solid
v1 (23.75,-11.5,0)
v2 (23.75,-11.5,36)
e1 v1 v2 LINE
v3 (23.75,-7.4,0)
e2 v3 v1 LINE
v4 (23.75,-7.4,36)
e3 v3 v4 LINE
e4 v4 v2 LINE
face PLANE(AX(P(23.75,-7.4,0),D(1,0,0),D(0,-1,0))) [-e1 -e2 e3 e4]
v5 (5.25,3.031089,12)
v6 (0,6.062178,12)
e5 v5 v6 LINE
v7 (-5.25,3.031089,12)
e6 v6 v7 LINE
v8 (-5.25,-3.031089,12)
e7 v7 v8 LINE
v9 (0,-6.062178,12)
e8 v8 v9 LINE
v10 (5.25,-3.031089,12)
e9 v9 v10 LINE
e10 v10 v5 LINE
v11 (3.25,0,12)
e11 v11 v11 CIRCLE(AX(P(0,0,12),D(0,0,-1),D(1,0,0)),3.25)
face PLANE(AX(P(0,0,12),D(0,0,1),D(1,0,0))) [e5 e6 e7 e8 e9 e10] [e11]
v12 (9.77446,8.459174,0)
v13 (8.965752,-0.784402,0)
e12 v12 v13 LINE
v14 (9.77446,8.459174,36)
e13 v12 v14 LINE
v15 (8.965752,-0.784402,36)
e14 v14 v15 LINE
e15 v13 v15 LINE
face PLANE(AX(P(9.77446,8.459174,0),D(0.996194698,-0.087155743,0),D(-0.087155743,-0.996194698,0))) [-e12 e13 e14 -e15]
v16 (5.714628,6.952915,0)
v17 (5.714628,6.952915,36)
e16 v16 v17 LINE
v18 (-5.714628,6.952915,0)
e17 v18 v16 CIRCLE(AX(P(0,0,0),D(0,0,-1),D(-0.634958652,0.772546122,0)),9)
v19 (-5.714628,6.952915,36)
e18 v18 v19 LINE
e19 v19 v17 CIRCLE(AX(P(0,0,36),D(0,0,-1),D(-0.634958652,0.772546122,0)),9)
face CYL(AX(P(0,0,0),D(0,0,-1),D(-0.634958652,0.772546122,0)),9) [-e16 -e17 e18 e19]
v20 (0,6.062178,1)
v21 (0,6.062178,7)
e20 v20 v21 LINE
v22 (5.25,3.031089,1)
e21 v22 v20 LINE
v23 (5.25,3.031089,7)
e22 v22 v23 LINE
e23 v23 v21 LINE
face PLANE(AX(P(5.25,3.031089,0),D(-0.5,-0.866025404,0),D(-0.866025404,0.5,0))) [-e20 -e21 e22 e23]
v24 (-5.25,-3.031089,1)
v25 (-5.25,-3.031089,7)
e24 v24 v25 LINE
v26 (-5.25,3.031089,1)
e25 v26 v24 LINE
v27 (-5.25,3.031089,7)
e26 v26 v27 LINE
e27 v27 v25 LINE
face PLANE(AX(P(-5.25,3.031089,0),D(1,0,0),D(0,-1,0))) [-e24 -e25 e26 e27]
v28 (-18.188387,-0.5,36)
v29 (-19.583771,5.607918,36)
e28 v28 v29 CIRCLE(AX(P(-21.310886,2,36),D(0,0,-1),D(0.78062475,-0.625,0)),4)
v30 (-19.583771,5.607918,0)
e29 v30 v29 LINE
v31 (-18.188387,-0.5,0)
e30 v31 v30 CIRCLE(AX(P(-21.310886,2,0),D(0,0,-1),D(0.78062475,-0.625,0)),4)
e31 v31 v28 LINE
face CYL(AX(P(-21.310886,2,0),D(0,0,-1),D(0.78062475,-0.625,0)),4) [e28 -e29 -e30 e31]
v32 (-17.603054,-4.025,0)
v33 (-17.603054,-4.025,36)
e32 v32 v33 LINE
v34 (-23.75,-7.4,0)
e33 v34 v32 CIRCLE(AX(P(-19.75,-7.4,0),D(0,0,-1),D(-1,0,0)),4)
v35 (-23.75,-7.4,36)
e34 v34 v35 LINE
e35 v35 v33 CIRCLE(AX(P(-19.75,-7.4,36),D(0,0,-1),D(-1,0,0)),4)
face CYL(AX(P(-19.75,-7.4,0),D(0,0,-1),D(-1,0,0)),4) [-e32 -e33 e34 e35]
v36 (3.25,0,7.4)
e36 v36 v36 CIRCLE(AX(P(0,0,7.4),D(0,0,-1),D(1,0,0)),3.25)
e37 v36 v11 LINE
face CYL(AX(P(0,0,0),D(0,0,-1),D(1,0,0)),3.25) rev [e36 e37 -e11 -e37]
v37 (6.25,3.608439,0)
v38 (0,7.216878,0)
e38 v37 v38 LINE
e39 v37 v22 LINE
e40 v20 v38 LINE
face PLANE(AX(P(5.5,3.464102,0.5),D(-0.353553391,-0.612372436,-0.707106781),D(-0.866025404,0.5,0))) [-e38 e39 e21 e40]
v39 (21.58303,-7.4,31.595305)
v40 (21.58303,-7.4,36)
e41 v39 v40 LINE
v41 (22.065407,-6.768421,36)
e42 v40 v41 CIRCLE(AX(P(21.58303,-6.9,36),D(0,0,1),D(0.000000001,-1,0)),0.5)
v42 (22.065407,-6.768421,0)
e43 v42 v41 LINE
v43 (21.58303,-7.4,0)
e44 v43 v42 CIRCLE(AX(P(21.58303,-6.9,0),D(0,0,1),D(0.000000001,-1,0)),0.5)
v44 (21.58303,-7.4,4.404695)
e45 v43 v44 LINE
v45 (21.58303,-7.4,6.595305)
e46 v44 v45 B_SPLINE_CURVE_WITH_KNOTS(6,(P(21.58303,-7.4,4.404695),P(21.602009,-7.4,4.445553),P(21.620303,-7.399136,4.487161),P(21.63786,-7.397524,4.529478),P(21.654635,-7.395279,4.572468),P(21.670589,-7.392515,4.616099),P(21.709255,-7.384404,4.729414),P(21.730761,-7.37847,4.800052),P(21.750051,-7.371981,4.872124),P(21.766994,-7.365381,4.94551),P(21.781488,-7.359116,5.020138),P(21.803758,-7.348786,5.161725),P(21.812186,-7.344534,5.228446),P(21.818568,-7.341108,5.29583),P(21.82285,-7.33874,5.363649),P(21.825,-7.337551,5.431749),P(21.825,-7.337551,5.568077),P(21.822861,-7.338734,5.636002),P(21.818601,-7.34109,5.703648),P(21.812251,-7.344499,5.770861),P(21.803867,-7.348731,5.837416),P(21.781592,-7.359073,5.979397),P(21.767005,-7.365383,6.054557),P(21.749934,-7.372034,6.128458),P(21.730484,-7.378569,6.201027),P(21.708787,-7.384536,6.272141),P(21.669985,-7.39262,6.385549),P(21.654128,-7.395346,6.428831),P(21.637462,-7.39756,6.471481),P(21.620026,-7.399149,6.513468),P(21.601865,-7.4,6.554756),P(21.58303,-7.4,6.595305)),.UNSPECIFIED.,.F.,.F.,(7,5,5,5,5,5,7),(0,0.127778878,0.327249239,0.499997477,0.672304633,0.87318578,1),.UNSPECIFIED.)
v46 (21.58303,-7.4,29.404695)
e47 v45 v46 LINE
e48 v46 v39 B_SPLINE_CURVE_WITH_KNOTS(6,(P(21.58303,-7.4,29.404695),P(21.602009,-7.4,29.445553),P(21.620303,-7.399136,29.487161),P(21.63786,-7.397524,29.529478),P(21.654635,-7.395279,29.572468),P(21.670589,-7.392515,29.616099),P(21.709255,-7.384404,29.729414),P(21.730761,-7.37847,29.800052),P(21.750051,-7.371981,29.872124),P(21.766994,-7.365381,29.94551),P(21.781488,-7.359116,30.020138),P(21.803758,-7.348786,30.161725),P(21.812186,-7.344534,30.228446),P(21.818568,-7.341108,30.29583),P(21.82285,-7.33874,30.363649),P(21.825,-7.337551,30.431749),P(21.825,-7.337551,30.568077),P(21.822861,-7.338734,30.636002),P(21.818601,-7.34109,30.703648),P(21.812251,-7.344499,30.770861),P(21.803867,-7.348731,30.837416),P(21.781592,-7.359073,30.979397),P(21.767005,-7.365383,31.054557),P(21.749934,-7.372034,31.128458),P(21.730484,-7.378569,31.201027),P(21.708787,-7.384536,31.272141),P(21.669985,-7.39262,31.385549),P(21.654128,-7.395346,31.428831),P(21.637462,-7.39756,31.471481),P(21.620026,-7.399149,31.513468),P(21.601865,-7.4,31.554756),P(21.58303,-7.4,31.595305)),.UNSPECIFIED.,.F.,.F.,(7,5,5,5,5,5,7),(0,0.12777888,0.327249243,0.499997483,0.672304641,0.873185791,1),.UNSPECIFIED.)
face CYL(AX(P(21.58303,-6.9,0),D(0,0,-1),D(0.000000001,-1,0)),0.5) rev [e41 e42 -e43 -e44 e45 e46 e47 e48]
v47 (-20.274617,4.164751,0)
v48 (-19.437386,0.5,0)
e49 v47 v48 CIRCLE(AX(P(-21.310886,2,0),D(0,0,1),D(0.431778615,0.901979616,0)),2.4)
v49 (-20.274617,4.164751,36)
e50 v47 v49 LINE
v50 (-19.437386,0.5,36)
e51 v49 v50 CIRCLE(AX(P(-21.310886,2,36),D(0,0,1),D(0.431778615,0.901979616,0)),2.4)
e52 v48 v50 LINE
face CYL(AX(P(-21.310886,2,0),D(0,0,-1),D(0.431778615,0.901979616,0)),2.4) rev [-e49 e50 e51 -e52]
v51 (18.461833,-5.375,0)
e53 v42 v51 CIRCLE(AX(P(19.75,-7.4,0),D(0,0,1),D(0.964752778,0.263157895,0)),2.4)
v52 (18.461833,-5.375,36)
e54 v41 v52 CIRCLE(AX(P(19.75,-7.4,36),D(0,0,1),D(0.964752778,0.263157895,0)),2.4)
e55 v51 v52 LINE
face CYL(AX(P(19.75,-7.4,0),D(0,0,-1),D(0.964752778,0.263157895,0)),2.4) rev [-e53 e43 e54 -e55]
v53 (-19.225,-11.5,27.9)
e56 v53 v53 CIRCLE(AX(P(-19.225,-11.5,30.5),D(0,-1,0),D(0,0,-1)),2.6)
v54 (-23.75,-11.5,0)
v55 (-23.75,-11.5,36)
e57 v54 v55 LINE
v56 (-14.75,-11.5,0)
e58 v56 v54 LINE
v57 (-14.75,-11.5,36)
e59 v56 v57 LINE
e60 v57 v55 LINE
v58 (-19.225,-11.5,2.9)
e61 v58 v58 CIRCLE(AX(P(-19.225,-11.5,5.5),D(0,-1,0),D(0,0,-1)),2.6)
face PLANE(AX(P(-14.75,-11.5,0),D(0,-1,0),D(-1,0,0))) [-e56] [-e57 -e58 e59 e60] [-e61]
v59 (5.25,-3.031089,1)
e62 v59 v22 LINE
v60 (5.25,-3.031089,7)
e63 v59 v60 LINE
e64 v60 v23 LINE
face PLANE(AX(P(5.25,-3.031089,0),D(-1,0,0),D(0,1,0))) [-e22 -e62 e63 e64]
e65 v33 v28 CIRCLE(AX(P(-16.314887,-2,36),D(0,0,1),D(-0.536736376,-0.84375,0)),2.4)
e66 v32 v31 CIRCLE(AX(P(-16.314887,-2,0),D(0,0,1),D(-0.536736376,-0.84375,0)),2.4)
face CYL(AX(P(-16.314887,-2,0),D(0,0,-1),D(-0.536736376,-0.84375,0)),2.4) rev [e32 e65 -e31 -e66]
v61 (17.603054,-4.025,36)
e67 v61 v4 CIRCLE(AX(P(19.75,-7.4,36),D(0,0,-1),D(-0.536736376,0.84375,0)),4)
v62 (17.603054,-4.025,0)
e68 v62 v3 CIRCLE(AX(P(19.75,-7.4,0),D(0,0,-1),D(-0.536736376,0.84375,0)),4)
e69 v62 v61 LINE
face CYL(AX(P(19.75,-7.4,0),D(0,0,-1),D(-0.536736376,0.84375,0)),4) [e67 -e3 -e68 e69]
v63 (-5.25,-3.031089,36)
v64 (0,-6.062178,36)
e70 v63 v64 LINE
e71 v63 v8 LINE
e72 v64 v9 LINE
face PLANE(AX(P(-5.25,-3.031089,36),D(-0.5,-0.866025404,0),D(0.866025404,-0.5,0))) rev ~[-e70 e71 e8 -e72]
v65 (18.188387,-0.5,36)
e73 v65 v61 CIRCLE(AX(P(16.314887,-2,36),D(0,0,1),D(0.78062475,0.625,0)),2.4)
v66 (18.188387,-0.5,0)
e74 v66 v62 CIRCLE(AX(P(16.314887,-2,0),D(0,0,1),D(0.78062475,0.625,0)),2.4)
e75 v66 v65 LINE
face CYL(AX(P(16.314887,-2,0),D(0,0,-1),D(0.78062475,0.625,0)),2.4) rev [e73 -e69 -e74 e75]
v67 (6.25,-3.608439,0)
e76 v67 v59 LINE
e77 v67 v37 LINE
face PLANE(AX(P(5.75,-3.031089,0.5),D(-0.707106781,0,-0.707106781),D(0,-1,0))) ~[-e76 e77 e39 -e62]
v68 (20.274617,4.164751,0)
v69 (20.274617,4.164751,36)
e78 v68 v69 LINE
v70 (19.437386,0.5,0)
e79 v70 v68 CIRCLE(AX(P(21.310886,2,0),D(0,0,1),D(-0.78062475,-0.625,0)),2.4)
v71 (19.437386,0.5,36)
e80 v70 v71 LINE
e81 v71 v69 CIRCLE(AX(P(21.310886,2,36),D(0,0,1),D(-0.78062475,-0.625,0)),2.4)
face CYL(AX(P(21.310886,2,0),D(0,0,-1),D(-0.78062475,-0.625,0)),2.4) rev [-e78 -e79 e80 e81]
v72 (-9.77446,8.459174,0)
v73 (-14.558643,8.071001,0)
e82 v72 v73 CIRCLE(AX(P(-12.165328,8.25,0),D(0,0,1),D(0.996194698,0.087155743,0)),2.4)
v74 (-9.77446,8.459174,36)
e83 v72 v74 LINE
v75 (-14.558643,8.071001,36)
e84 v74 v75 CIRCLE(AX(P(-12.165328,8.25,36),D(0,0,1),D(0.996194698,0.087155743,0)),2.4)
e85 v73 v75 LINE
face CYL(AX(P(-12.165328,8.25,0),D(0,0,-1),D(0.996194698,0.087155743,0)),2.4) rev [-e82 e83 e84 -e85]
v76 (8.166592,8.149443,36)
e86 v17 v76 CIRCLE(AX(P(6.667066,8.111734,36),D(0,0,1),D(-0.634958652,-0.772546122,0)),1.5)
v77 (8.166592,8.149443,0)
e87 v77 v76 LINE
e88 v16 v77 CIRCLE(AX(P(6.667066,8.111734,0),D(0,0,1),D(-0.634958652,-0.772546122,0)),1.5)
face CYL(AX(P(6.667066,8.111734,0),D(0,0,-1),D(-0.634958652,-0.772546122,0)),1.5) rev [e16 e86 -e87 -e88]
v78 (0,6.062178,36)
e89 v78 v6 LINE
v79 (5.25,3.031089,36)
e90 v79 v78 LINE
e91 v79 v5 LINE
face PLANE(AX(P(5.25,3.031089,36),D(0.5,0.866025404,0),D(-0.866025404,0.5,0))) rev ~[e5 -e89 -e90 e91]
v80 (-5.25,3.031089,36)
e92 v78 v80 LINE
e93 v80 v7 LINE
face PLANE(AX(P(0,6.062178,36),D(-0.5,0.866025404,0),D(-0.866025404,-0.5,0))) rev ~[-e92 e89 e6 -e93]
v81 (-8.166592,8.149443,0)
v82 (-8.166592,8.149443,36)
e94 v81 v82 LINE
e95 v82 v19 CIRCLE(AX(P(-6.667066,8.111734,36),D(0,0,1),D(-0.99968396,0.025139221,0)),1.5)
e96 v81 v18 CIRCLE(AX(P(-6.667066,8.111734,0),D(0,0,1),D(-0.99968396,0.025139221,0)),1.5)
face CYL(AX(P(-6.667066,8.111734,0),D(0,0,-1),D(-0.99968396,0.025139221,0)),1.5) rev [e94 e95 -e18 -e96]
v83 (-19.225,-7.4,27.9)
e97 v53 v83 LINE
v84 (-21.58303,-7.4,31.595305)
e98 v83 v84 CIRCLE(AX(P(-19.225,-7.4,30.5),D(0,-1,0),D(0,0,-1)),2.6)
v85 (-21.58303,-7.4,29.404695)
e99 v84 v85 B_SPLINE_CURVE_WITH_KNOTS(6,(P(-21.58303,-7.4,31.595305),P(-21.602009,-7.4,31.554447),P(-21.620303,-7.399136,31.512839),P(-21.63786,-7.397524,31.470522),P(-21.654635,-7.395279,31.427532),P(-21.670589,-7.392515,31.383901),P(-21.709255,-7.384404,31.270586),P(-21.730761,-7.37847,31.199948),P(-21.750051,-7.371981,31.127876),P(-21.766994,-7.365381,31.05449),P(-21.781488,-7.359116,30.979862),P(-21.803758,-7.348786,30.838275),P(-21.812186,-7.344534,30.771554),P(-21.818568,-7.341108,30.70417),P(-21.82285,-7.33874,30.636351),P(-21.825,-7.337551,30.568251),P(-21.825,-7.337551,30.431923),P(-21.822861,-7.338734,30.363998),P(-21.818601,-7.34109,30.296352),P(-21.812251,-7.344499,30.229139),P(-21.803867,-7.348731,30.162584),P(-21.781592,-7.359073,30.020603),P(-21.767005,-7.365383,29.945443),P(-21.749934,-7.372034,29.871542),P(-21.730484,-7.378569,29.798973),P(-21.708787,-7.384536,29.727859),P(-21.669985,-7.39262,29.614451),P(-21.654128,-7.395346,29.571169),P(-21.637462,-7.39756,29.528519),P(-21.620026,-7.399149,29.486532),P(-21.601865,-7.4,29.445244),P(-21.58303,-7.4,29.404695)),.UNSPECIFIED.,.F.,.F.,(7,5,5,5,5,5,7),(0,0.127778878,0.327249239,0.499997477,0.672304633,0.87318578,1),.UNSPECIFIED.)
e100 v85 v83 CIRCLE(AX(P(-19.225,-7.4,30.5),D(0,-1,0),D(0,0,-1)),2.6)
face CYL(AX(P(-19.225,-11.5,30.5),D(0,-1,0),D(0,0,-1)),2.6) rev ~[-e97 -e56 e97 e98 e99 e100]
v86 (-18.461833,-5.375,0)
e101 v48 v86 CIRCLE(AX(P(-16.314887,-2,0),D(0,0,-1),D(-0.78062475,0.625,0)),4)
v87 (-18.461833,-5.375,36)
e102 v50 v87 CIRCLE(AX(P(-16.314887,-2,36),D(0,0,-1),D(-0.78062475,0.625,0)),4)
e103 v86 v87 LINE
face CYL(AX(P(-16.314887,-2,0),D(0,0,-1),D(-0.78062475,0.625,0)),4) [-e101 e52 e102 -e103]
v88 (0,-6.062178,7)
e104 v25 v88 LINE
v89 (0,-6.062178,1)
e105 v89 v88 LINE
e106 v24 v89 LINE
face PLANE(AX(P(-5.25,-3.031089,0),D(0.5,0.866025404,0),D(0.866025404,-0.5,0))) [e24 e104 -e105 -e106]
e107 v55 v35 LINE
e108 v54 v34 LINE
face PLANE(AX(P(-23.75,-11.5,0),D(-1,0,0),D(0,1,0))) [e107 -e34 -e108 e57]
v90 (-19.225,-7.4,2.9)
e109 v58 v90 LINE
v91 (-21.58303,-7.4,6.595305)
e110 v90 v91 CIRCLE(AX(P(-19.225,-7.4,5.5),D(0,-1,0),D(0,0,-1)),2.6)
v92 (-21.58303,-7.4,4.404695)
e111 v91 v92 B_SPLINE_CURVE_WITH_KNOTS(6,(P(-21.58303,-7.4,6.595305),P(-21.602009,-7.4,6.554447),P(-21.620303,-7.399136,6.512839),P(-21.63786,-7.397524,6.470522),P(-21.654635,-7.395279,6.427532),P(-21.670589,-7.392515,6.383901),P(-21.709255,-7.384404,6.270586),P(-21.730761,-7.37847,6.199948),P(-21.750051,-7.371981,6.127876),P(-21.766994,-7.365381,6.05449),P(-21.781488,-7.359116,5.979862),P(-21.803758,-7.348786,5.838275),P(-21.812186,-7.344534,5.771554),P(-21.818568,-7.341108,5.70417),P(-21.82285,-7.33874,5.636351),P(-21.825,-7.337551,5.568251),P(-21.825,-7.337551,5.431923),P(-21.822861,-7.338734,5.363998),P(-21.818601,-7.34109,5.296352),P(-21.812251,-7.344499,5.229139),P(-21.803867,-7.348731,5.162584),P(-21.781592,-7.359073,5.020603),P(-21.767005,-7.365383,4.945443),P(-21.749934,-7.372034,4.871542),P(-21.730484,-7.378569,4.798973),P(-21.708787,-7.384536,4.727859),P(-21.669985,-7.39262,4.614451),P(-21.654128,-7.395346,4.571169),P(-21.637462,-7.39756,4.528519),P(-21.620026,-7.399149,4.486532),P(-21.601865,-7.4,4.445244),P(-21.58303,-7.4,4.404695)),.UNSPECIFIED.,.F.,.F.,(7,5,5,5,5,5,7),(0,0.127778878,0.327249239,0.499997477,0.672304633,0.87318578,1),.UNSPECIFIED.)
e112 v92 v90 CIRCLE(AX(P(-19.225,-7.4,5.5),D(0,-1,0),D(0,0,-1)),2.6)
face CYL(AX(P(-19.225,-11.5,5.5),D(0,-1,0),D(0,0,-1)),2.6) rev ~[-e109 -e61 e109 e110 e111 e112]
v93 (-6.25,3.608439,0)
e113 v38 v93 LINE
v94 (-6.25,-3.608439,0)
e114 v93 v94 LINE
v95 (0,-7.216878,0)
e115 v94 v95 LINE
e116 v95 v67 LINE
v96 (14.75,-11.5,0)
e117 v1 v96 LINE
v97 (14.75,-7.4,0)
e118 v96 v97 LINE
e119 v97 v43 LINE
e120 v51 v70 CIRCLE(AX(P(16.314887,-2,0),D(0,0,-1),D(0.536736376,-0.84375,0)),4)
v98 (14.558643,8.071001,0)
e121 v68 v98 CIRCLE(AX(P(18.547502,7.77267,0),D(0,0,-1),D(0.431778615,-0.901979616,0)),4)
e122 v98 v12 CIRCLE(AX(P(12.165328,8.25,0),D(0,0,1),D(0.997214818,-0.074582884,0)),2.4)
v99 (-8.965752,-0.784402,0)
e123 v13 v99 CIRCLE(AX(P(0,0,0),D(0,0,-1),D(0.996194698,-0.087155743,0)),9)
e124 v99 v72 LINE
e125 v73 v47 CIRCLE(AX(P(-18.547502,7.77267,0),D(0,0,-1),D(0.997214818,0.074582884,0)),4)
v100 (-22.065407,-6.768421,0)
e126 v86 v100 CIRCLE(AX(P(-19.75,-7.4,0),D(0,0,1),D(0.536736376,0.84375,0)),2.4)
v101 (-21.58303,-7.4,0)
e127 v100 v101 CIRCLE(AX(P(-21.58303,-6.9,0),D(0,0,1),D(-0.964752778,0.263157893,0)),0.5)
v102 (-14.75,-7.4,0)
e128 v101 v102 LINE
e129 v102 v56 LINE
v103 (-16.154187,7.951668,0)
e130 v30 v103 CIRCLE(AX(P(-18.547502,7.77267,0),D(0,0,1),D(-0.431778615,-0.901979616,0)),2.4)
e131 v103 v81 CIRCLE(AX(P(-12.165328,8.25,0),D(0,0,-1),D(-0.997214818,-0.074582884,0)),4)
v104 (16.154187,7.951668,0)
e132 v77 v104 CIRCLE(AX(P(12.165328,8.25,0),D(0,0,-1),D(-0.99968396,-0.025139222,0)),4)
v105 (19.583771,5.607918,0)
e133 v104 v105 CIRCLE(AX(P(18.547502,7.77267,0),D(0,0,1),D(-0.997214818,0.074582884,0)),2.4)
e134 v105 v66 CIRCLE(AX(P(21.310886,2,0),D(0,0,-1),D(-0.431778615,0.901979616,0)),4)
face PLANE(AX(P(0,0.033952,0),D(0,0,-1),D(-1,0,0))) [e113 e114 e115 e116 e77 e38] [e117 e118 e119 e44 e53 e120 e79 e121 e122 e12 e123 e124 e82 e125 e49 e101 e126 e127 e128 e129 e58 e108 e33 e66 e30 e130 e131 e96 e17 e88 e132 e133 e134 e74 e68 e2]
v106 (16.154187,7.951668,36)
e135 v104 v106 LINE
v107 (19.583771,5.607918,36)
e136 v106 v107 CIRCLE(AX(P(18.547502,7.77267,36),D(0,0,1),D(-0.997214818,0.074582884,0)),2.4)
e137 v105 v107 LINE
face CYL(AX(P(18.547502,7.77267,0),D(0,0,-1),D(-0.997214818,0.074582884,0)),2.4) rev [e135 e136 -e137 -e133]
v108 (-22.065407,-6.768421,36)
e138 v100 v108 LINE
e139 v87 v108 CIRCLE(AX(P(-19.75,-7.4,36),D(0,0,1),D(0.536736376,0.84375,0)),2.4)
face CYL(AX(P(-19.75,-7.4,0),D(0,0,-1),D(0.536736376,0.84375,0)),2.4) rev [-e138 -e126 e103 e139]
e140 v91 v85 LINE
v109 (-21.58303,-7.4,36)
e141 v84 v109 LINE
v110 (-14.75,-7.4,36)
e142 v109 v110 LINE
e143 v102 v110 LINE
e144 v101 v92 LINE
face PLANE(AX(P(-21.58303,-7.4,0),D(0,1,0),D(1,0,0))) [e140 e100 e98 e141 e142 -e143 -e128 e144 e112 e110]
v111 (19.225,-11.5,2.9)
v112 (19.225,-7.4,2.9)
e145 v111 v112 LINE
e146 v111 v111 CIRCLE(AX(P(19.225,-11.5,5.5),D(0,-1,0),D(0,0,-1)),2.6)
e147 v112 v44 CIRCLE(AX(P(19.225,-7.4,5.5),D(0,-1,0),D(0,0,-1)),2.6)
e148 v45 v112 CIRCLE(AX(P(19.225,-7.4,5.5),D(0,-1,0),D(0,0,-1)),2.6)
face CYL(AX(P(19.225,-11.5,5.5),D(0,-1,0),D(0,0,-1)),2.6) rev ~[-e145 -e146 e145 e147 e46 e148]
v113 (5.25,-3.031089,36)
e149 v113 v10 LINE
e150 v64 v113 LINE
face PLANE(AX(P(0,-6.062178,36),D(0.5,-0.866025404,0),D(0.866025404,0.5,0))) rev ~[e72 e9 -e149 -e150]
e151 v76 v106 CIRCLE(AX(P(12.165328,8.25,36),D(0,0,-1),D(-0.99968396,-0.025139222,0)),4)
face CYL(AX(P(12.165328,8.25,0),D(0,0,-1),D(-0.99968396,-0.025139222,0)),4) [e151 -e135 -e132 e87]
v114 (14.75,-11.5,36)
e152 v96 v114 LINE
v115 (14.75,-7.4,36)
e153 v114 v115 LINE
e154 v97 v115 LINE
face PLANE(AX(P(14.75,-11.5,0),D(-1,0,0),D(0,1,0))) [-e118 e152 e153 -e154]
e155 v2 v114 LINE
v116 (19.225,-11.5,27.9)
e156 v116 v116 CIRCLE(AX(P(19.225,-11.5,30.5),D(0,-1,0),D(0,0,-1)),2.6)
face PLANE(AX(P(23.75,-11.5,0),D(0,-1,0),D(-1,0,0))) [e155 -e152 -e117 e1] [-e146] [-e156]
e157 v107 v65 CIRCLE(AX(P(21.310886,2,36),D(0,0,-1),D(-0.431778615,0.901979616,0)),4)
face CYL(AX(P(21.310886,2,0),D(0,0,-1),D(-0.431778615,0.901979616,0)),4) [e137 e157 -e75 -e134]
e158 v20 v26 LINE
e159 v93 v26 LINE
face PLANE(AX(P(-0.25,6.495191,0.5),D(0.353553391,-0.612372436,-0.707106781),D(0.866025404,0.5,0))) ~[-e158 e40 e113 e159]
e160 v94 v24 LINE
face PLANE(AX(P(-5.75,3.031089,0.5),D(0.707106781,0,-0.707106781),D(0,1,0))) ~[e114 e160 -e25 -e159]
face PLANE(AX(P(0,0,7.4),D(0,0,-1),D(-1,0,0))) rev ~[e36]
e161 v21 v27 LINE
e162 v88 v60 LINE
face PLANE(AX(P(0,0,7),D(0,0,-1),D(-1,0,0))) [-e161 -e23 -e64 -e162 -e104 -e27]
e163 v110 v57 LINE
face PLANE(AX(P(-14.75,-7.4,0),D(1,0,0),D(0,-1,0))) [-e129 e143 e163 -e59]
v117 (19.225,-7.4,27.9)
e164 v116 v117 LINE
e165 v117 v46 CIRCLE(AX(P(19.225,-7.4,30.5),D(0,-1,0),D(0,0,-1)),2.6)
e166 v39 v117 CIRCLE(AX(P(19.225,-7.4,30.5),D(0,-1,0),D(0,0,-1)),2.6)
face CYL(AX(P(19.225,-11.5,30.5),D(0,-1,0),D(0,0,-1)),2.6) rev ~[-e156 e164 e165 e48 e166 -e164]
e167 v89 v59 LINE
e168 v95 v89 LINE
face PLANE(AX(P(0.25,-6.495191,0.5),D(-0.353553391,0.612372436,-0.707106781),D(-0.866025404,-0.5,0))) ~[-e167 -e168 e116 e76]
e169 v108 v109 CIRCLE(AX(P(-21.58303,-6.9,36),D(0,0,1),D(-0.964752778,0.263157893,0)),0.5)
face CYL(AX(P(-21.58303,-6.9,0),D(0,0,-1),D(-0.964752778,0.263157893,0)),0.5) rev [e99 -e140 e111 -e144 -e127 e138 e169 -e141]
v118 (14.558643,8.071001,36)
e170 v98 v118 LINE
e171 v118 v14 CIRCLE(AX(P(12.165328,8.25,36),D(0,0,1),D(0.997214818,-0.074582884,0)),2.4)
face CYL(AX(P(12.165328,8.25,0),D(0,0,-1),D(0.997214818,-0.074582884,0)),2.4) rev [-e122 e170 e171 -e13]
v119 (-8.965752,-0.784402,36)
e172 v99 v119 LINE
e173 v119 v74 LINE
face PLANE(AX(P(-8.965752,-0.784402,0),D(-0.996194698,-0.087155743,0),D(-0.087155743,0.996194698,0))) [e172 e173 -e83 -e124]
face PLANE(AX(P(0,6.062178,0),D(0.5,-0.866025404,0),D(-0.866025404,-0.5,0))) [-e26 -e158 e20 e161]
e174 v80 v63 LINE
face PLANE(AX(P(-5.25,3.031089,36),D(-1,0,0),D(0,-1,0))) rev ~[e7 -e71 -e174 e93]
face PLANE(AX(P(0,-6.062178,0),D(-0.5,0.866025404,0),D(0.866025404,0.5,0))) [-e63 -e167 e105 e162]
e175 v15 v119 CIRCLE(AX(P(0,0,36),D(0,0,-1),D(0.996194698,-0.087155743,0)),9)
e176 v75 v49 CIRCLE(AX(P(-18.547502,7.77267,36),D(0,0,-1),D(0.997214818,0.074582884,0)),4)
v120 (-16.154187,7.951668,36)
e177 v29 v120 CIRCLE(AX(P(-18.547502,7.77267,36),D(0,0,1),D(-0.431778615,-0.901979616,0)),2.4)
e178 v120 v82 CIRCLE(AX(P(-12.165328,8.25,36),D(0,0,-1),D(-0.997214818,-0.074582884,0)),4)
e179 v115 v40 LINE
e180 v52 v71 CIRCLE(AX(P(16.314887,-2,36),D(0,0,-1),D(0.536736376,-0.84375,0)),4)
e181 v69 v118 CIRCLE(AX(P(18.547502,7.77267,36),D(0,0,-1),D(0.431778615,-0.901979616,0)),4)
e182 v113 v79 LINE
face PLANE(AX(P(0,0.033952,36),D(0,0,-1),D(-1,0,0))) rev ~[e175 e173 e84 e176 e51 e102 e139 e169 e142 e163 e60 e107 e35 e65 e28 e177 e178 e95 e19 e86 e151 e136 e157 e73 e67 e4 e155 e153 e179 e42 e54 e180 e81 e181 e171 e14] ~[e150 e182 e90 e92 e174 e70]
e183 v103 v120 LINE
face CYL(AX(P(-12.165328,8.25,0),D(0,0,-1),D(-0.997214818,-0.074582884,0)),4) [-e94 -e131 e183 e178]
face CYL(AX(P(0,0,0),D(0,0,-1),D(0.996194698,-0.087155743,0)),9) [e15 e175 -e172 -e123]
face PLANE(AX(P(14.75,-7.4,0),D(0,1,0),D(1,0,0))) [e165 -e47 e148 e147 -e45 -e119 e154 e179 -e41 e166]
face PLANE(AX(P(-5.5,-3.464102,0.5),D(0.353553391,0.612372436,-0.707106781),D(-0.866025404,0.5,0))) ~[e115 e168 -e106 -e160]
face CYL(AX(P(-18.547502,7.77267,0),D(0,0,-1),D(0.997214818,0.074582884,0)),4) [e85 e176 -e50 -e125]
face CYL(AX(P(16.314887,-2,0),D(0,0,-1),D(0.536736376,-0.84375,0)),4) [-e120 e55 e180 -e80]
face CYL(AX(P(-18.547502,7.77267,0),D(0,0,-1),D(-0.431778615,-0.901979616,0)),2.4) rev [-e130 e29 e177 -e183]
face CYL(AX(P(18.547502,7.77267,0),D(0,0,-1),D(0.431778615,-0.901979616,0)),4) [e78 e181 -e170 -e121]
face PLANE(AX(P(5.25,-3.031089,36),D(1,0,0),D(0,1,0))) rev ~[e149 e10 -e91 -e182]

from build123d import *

# Parameters (mm, degrees)
SKETCH1_R           = 3.25
BOSS_EXTRUDE1_DEPTH = 36
SKETCH2_R           = 2.6
CUT_EXTRUDE1_DEPTH  = 4.2
CUT_EXTRUDE3_DEPTH  = 7
CUT_EXTRUDE2_DEPTH  = 24
SKETCH6_R           = 3.25
BOSS_EXTRUDE2_DEPTH = 0.4
CHAMFER1_SIZE       = 1


with BuildPart() as part:
    # Sketch1 → Boss-Extrude1 (new body)
    with BuildSketch(Plane.XY):
        with BuildLine():
            Line((-14.75, -7.4), (-14.75, -11.5))
            Line((-14.75, -11.5), (-23.75, -11.5))
            Line((-23.75, -11.5), (-23.75, -7.4))
            ThreePointArc((-23.75, -7.4), (-21.675125708, -3.893735462), (-17.603054495, -4.025))
            ThreePointArc((-17.603054495, -4.025), (-13.947306078, -1.606859229), (-18.188386592, -0.5))
            ThreePointArc((-18.188386592, -0.5), (-25.210418213, 1.109132257), (-19.583771133, 5.607918465))
            ThreePointArc((-19.583771133, 5.607918465), (-17.193366172, 5.79117644), (-16.154186894, 7.951668465))
            ThreePointArc((-16.154186894, 7.951668465), (-12.264338175, 12.248774426), (-8.166591783, 8.149443113))
            ThreePointArc((-8.166591783, 8.149443113), (-7.324900269, 6.763678693), (-5.714627865, 6.952915098))
            ThreePointArc((-5.714627865, 6.952915098), (0, 9), (5.714627865, 6.952915098))
            ThreePointArc((5.714627865, 6.952915098), (7.324900269, 6.763678693), (8.166591783, 8.149443113))
            ThreePointArc((8.166591783, 8.149443113), (12.264338175, 12.248774426), (16.154186894, 7.951668465))
            ThreePointArc((16.154186894, 7.951668465), (17.193366172, 5.79117644), (19.583771133, 5.607918465))
            ThreePointArc((19.583771133, 5.607918465), (25.210418213, 1.109132257), (18.188386592, -0.5))
            ThreePointArc((18.188386592, -0.5), (13.947306078, -1.606859229), (17.603054495, -4.025))
            ThreePointArc((17.603054495, -4.025), (21.675125708, -3.893735462), (23.75, -7.4))
            Line((23.75, -7.4), (23.75, -11.5))
            Line((23.75, -11.5), (14.75, -11.5))
            Line((14.75, -11.5), (14.75, -7.4))
            Line((14.75, -7.4), (21.583030278, -7.4))
            ThreePointArc((21.583030278, -7.4), (21.980389985, -7.203488489), (22.065406667, -6.768421053))
            ThreePointArc((22.065406667, -6.768421053), (20.615569602, -5.16152077), (18.461832697, -5.375))
            ThreePointArc((18.461832697, -5.375), (12.368918668, -1.344765382), (19.437386192, 0.5))
            ThreePointArc((19.437386192, 0.5), (23.650605164, 1.465479354), (20.274616916, 4.164751079))
            ThreePointArc((20.274616916, 4.164751079), (16.290608649, 4.470181037), (14.558643186, 8.071001079))
            ThreePointArc((14.558643186, 8.071001079), (12.359417834, 10.642138999), (9.774460347, 8.459173783))
            Line((9.774460347, 8.459173783), (8.965752283, -0.784401685))
            ThreePointArc((8.965752283, -0.784401685), (0, -9), (-8.965752283, -0.784401685))
            Line((-8.965752283, -0.784401685), (-9.774460347, 8.459173783))
            ThreePointArc((-9.774460347, 8.459173783), (-12.359417834, 10.642138999), (-14.558643186, 8.071001079))
            ThreePointArc((-14.558643186, 8.071001079), (-16.290608649, 4.470181037), (-20.274616916, 4.164751079))
            ThreePointArc((-20.274616916, 4.164751079), (-23.650605164, 1.465479354), (-19.437386192, 0.5))
            ThreePointArc((-19.437386192, 0.5), (-12.368918668, -1.344765382), (-18.461832697, -5.375))
            ThreePointArc((-18.461832697, -5.375), (-20.615569602, -5.16152077), (-22.065406667, -6.768421053))
            ThreePointArc((-22.065406667, -6.768421053), (-21.980389985, -7.203488489), (-21.583030278, -7.4))
            Line((-21.583030278, -7.4), (-14.75, -7.4))
        make_face()
        Circle(SKETCH1_R, mode=Mode.SUBTRACT)
    extrude(amount=BOSS_EXTRUDE1_DEPTH)

    # Sketch2 → Cut-Extrude1 (cut)
    with BuildSketch(Plane.XZ.offset(11.5)):
        with Locations(Location((-19.225, 30.5, 0), (0, 0, 270))):  # turned: the seam where the file's is
            Circle(SKETCH2_R)
        with Locations(Location((-19.225, 5.5, 0), (0, 0, 270))):  # turned: the seam where the file's is
            Circle(SKETCH2_R)
        with Locations(Location((19.225, 5.5, 0), (0, 0, 270))):  # turned: the seam where the file's is
            Circle(SKETCH2_R)
        with Locations(Location((19.225, 30.5, 0), (0, 0, 270))):  # turned: the seam where the file's is
            Circle(SKETCH2_R)
    extrude(amount=-CUT_EXTRUDE1_DEPTH, mode=Mode.SUBTRACT)

    # Sketch5 → Cut-Extrude3 (cut)
    with BuildSketch(Plane.XY):
        Polygon((5.25, -3.031088913), (5.25, 3.031088913), (0, 6.062177826), (-5.25, 3.031088913), (-5.25, -3.031088913), (0, -6.062177826), align=None)
    extrude(amount=CUT_EXTRUDE3_DEPTH, mode=Mode.SUBTRACT)

    # Sketch3 → Cut-Extrude2 (cut)
    with BuildSketch(Plane.XY.offset(36)):
        Polygon((5.25, -3.031088913), (5.25, 3.031088913), (0, 6.062177826), (-5.25, 3.031088913), (-5.25, -3.031088913), (0, -6.062177826), align=None)
    extrude(amount=-CUT_EXTRUDE2_DEPTH, mode=Mode.SUBTRACT)

    # Sketch6 → Boss-Extrude2 (add)
    with BuildSketch(Plane(origin=(0, 0, 7), x_dir=(-1, 0, 0), z_dir=(0, 0, -1))):
        Circle(SKETCH6_R)
    extrude(amount=-BOSS_EXTRUDE2_DEPTH)

    # Chamfer1
    chamfer1_edges = [part.edges().sort_by_distance(p)[0] for p in [
        (2.625, -4.54663337, 0),
        (5.25, 0, 0),
        (2.625, 4.54663337, 0),
        (-2.625, 4.54663337, 0),
        (-5.25, 0, 0),
        (-2.625, -4.54663337, 0),
    ]]
    chamfer(chamfer1_edges, length=CHAMFER1_SIZE)


solid = part.part
